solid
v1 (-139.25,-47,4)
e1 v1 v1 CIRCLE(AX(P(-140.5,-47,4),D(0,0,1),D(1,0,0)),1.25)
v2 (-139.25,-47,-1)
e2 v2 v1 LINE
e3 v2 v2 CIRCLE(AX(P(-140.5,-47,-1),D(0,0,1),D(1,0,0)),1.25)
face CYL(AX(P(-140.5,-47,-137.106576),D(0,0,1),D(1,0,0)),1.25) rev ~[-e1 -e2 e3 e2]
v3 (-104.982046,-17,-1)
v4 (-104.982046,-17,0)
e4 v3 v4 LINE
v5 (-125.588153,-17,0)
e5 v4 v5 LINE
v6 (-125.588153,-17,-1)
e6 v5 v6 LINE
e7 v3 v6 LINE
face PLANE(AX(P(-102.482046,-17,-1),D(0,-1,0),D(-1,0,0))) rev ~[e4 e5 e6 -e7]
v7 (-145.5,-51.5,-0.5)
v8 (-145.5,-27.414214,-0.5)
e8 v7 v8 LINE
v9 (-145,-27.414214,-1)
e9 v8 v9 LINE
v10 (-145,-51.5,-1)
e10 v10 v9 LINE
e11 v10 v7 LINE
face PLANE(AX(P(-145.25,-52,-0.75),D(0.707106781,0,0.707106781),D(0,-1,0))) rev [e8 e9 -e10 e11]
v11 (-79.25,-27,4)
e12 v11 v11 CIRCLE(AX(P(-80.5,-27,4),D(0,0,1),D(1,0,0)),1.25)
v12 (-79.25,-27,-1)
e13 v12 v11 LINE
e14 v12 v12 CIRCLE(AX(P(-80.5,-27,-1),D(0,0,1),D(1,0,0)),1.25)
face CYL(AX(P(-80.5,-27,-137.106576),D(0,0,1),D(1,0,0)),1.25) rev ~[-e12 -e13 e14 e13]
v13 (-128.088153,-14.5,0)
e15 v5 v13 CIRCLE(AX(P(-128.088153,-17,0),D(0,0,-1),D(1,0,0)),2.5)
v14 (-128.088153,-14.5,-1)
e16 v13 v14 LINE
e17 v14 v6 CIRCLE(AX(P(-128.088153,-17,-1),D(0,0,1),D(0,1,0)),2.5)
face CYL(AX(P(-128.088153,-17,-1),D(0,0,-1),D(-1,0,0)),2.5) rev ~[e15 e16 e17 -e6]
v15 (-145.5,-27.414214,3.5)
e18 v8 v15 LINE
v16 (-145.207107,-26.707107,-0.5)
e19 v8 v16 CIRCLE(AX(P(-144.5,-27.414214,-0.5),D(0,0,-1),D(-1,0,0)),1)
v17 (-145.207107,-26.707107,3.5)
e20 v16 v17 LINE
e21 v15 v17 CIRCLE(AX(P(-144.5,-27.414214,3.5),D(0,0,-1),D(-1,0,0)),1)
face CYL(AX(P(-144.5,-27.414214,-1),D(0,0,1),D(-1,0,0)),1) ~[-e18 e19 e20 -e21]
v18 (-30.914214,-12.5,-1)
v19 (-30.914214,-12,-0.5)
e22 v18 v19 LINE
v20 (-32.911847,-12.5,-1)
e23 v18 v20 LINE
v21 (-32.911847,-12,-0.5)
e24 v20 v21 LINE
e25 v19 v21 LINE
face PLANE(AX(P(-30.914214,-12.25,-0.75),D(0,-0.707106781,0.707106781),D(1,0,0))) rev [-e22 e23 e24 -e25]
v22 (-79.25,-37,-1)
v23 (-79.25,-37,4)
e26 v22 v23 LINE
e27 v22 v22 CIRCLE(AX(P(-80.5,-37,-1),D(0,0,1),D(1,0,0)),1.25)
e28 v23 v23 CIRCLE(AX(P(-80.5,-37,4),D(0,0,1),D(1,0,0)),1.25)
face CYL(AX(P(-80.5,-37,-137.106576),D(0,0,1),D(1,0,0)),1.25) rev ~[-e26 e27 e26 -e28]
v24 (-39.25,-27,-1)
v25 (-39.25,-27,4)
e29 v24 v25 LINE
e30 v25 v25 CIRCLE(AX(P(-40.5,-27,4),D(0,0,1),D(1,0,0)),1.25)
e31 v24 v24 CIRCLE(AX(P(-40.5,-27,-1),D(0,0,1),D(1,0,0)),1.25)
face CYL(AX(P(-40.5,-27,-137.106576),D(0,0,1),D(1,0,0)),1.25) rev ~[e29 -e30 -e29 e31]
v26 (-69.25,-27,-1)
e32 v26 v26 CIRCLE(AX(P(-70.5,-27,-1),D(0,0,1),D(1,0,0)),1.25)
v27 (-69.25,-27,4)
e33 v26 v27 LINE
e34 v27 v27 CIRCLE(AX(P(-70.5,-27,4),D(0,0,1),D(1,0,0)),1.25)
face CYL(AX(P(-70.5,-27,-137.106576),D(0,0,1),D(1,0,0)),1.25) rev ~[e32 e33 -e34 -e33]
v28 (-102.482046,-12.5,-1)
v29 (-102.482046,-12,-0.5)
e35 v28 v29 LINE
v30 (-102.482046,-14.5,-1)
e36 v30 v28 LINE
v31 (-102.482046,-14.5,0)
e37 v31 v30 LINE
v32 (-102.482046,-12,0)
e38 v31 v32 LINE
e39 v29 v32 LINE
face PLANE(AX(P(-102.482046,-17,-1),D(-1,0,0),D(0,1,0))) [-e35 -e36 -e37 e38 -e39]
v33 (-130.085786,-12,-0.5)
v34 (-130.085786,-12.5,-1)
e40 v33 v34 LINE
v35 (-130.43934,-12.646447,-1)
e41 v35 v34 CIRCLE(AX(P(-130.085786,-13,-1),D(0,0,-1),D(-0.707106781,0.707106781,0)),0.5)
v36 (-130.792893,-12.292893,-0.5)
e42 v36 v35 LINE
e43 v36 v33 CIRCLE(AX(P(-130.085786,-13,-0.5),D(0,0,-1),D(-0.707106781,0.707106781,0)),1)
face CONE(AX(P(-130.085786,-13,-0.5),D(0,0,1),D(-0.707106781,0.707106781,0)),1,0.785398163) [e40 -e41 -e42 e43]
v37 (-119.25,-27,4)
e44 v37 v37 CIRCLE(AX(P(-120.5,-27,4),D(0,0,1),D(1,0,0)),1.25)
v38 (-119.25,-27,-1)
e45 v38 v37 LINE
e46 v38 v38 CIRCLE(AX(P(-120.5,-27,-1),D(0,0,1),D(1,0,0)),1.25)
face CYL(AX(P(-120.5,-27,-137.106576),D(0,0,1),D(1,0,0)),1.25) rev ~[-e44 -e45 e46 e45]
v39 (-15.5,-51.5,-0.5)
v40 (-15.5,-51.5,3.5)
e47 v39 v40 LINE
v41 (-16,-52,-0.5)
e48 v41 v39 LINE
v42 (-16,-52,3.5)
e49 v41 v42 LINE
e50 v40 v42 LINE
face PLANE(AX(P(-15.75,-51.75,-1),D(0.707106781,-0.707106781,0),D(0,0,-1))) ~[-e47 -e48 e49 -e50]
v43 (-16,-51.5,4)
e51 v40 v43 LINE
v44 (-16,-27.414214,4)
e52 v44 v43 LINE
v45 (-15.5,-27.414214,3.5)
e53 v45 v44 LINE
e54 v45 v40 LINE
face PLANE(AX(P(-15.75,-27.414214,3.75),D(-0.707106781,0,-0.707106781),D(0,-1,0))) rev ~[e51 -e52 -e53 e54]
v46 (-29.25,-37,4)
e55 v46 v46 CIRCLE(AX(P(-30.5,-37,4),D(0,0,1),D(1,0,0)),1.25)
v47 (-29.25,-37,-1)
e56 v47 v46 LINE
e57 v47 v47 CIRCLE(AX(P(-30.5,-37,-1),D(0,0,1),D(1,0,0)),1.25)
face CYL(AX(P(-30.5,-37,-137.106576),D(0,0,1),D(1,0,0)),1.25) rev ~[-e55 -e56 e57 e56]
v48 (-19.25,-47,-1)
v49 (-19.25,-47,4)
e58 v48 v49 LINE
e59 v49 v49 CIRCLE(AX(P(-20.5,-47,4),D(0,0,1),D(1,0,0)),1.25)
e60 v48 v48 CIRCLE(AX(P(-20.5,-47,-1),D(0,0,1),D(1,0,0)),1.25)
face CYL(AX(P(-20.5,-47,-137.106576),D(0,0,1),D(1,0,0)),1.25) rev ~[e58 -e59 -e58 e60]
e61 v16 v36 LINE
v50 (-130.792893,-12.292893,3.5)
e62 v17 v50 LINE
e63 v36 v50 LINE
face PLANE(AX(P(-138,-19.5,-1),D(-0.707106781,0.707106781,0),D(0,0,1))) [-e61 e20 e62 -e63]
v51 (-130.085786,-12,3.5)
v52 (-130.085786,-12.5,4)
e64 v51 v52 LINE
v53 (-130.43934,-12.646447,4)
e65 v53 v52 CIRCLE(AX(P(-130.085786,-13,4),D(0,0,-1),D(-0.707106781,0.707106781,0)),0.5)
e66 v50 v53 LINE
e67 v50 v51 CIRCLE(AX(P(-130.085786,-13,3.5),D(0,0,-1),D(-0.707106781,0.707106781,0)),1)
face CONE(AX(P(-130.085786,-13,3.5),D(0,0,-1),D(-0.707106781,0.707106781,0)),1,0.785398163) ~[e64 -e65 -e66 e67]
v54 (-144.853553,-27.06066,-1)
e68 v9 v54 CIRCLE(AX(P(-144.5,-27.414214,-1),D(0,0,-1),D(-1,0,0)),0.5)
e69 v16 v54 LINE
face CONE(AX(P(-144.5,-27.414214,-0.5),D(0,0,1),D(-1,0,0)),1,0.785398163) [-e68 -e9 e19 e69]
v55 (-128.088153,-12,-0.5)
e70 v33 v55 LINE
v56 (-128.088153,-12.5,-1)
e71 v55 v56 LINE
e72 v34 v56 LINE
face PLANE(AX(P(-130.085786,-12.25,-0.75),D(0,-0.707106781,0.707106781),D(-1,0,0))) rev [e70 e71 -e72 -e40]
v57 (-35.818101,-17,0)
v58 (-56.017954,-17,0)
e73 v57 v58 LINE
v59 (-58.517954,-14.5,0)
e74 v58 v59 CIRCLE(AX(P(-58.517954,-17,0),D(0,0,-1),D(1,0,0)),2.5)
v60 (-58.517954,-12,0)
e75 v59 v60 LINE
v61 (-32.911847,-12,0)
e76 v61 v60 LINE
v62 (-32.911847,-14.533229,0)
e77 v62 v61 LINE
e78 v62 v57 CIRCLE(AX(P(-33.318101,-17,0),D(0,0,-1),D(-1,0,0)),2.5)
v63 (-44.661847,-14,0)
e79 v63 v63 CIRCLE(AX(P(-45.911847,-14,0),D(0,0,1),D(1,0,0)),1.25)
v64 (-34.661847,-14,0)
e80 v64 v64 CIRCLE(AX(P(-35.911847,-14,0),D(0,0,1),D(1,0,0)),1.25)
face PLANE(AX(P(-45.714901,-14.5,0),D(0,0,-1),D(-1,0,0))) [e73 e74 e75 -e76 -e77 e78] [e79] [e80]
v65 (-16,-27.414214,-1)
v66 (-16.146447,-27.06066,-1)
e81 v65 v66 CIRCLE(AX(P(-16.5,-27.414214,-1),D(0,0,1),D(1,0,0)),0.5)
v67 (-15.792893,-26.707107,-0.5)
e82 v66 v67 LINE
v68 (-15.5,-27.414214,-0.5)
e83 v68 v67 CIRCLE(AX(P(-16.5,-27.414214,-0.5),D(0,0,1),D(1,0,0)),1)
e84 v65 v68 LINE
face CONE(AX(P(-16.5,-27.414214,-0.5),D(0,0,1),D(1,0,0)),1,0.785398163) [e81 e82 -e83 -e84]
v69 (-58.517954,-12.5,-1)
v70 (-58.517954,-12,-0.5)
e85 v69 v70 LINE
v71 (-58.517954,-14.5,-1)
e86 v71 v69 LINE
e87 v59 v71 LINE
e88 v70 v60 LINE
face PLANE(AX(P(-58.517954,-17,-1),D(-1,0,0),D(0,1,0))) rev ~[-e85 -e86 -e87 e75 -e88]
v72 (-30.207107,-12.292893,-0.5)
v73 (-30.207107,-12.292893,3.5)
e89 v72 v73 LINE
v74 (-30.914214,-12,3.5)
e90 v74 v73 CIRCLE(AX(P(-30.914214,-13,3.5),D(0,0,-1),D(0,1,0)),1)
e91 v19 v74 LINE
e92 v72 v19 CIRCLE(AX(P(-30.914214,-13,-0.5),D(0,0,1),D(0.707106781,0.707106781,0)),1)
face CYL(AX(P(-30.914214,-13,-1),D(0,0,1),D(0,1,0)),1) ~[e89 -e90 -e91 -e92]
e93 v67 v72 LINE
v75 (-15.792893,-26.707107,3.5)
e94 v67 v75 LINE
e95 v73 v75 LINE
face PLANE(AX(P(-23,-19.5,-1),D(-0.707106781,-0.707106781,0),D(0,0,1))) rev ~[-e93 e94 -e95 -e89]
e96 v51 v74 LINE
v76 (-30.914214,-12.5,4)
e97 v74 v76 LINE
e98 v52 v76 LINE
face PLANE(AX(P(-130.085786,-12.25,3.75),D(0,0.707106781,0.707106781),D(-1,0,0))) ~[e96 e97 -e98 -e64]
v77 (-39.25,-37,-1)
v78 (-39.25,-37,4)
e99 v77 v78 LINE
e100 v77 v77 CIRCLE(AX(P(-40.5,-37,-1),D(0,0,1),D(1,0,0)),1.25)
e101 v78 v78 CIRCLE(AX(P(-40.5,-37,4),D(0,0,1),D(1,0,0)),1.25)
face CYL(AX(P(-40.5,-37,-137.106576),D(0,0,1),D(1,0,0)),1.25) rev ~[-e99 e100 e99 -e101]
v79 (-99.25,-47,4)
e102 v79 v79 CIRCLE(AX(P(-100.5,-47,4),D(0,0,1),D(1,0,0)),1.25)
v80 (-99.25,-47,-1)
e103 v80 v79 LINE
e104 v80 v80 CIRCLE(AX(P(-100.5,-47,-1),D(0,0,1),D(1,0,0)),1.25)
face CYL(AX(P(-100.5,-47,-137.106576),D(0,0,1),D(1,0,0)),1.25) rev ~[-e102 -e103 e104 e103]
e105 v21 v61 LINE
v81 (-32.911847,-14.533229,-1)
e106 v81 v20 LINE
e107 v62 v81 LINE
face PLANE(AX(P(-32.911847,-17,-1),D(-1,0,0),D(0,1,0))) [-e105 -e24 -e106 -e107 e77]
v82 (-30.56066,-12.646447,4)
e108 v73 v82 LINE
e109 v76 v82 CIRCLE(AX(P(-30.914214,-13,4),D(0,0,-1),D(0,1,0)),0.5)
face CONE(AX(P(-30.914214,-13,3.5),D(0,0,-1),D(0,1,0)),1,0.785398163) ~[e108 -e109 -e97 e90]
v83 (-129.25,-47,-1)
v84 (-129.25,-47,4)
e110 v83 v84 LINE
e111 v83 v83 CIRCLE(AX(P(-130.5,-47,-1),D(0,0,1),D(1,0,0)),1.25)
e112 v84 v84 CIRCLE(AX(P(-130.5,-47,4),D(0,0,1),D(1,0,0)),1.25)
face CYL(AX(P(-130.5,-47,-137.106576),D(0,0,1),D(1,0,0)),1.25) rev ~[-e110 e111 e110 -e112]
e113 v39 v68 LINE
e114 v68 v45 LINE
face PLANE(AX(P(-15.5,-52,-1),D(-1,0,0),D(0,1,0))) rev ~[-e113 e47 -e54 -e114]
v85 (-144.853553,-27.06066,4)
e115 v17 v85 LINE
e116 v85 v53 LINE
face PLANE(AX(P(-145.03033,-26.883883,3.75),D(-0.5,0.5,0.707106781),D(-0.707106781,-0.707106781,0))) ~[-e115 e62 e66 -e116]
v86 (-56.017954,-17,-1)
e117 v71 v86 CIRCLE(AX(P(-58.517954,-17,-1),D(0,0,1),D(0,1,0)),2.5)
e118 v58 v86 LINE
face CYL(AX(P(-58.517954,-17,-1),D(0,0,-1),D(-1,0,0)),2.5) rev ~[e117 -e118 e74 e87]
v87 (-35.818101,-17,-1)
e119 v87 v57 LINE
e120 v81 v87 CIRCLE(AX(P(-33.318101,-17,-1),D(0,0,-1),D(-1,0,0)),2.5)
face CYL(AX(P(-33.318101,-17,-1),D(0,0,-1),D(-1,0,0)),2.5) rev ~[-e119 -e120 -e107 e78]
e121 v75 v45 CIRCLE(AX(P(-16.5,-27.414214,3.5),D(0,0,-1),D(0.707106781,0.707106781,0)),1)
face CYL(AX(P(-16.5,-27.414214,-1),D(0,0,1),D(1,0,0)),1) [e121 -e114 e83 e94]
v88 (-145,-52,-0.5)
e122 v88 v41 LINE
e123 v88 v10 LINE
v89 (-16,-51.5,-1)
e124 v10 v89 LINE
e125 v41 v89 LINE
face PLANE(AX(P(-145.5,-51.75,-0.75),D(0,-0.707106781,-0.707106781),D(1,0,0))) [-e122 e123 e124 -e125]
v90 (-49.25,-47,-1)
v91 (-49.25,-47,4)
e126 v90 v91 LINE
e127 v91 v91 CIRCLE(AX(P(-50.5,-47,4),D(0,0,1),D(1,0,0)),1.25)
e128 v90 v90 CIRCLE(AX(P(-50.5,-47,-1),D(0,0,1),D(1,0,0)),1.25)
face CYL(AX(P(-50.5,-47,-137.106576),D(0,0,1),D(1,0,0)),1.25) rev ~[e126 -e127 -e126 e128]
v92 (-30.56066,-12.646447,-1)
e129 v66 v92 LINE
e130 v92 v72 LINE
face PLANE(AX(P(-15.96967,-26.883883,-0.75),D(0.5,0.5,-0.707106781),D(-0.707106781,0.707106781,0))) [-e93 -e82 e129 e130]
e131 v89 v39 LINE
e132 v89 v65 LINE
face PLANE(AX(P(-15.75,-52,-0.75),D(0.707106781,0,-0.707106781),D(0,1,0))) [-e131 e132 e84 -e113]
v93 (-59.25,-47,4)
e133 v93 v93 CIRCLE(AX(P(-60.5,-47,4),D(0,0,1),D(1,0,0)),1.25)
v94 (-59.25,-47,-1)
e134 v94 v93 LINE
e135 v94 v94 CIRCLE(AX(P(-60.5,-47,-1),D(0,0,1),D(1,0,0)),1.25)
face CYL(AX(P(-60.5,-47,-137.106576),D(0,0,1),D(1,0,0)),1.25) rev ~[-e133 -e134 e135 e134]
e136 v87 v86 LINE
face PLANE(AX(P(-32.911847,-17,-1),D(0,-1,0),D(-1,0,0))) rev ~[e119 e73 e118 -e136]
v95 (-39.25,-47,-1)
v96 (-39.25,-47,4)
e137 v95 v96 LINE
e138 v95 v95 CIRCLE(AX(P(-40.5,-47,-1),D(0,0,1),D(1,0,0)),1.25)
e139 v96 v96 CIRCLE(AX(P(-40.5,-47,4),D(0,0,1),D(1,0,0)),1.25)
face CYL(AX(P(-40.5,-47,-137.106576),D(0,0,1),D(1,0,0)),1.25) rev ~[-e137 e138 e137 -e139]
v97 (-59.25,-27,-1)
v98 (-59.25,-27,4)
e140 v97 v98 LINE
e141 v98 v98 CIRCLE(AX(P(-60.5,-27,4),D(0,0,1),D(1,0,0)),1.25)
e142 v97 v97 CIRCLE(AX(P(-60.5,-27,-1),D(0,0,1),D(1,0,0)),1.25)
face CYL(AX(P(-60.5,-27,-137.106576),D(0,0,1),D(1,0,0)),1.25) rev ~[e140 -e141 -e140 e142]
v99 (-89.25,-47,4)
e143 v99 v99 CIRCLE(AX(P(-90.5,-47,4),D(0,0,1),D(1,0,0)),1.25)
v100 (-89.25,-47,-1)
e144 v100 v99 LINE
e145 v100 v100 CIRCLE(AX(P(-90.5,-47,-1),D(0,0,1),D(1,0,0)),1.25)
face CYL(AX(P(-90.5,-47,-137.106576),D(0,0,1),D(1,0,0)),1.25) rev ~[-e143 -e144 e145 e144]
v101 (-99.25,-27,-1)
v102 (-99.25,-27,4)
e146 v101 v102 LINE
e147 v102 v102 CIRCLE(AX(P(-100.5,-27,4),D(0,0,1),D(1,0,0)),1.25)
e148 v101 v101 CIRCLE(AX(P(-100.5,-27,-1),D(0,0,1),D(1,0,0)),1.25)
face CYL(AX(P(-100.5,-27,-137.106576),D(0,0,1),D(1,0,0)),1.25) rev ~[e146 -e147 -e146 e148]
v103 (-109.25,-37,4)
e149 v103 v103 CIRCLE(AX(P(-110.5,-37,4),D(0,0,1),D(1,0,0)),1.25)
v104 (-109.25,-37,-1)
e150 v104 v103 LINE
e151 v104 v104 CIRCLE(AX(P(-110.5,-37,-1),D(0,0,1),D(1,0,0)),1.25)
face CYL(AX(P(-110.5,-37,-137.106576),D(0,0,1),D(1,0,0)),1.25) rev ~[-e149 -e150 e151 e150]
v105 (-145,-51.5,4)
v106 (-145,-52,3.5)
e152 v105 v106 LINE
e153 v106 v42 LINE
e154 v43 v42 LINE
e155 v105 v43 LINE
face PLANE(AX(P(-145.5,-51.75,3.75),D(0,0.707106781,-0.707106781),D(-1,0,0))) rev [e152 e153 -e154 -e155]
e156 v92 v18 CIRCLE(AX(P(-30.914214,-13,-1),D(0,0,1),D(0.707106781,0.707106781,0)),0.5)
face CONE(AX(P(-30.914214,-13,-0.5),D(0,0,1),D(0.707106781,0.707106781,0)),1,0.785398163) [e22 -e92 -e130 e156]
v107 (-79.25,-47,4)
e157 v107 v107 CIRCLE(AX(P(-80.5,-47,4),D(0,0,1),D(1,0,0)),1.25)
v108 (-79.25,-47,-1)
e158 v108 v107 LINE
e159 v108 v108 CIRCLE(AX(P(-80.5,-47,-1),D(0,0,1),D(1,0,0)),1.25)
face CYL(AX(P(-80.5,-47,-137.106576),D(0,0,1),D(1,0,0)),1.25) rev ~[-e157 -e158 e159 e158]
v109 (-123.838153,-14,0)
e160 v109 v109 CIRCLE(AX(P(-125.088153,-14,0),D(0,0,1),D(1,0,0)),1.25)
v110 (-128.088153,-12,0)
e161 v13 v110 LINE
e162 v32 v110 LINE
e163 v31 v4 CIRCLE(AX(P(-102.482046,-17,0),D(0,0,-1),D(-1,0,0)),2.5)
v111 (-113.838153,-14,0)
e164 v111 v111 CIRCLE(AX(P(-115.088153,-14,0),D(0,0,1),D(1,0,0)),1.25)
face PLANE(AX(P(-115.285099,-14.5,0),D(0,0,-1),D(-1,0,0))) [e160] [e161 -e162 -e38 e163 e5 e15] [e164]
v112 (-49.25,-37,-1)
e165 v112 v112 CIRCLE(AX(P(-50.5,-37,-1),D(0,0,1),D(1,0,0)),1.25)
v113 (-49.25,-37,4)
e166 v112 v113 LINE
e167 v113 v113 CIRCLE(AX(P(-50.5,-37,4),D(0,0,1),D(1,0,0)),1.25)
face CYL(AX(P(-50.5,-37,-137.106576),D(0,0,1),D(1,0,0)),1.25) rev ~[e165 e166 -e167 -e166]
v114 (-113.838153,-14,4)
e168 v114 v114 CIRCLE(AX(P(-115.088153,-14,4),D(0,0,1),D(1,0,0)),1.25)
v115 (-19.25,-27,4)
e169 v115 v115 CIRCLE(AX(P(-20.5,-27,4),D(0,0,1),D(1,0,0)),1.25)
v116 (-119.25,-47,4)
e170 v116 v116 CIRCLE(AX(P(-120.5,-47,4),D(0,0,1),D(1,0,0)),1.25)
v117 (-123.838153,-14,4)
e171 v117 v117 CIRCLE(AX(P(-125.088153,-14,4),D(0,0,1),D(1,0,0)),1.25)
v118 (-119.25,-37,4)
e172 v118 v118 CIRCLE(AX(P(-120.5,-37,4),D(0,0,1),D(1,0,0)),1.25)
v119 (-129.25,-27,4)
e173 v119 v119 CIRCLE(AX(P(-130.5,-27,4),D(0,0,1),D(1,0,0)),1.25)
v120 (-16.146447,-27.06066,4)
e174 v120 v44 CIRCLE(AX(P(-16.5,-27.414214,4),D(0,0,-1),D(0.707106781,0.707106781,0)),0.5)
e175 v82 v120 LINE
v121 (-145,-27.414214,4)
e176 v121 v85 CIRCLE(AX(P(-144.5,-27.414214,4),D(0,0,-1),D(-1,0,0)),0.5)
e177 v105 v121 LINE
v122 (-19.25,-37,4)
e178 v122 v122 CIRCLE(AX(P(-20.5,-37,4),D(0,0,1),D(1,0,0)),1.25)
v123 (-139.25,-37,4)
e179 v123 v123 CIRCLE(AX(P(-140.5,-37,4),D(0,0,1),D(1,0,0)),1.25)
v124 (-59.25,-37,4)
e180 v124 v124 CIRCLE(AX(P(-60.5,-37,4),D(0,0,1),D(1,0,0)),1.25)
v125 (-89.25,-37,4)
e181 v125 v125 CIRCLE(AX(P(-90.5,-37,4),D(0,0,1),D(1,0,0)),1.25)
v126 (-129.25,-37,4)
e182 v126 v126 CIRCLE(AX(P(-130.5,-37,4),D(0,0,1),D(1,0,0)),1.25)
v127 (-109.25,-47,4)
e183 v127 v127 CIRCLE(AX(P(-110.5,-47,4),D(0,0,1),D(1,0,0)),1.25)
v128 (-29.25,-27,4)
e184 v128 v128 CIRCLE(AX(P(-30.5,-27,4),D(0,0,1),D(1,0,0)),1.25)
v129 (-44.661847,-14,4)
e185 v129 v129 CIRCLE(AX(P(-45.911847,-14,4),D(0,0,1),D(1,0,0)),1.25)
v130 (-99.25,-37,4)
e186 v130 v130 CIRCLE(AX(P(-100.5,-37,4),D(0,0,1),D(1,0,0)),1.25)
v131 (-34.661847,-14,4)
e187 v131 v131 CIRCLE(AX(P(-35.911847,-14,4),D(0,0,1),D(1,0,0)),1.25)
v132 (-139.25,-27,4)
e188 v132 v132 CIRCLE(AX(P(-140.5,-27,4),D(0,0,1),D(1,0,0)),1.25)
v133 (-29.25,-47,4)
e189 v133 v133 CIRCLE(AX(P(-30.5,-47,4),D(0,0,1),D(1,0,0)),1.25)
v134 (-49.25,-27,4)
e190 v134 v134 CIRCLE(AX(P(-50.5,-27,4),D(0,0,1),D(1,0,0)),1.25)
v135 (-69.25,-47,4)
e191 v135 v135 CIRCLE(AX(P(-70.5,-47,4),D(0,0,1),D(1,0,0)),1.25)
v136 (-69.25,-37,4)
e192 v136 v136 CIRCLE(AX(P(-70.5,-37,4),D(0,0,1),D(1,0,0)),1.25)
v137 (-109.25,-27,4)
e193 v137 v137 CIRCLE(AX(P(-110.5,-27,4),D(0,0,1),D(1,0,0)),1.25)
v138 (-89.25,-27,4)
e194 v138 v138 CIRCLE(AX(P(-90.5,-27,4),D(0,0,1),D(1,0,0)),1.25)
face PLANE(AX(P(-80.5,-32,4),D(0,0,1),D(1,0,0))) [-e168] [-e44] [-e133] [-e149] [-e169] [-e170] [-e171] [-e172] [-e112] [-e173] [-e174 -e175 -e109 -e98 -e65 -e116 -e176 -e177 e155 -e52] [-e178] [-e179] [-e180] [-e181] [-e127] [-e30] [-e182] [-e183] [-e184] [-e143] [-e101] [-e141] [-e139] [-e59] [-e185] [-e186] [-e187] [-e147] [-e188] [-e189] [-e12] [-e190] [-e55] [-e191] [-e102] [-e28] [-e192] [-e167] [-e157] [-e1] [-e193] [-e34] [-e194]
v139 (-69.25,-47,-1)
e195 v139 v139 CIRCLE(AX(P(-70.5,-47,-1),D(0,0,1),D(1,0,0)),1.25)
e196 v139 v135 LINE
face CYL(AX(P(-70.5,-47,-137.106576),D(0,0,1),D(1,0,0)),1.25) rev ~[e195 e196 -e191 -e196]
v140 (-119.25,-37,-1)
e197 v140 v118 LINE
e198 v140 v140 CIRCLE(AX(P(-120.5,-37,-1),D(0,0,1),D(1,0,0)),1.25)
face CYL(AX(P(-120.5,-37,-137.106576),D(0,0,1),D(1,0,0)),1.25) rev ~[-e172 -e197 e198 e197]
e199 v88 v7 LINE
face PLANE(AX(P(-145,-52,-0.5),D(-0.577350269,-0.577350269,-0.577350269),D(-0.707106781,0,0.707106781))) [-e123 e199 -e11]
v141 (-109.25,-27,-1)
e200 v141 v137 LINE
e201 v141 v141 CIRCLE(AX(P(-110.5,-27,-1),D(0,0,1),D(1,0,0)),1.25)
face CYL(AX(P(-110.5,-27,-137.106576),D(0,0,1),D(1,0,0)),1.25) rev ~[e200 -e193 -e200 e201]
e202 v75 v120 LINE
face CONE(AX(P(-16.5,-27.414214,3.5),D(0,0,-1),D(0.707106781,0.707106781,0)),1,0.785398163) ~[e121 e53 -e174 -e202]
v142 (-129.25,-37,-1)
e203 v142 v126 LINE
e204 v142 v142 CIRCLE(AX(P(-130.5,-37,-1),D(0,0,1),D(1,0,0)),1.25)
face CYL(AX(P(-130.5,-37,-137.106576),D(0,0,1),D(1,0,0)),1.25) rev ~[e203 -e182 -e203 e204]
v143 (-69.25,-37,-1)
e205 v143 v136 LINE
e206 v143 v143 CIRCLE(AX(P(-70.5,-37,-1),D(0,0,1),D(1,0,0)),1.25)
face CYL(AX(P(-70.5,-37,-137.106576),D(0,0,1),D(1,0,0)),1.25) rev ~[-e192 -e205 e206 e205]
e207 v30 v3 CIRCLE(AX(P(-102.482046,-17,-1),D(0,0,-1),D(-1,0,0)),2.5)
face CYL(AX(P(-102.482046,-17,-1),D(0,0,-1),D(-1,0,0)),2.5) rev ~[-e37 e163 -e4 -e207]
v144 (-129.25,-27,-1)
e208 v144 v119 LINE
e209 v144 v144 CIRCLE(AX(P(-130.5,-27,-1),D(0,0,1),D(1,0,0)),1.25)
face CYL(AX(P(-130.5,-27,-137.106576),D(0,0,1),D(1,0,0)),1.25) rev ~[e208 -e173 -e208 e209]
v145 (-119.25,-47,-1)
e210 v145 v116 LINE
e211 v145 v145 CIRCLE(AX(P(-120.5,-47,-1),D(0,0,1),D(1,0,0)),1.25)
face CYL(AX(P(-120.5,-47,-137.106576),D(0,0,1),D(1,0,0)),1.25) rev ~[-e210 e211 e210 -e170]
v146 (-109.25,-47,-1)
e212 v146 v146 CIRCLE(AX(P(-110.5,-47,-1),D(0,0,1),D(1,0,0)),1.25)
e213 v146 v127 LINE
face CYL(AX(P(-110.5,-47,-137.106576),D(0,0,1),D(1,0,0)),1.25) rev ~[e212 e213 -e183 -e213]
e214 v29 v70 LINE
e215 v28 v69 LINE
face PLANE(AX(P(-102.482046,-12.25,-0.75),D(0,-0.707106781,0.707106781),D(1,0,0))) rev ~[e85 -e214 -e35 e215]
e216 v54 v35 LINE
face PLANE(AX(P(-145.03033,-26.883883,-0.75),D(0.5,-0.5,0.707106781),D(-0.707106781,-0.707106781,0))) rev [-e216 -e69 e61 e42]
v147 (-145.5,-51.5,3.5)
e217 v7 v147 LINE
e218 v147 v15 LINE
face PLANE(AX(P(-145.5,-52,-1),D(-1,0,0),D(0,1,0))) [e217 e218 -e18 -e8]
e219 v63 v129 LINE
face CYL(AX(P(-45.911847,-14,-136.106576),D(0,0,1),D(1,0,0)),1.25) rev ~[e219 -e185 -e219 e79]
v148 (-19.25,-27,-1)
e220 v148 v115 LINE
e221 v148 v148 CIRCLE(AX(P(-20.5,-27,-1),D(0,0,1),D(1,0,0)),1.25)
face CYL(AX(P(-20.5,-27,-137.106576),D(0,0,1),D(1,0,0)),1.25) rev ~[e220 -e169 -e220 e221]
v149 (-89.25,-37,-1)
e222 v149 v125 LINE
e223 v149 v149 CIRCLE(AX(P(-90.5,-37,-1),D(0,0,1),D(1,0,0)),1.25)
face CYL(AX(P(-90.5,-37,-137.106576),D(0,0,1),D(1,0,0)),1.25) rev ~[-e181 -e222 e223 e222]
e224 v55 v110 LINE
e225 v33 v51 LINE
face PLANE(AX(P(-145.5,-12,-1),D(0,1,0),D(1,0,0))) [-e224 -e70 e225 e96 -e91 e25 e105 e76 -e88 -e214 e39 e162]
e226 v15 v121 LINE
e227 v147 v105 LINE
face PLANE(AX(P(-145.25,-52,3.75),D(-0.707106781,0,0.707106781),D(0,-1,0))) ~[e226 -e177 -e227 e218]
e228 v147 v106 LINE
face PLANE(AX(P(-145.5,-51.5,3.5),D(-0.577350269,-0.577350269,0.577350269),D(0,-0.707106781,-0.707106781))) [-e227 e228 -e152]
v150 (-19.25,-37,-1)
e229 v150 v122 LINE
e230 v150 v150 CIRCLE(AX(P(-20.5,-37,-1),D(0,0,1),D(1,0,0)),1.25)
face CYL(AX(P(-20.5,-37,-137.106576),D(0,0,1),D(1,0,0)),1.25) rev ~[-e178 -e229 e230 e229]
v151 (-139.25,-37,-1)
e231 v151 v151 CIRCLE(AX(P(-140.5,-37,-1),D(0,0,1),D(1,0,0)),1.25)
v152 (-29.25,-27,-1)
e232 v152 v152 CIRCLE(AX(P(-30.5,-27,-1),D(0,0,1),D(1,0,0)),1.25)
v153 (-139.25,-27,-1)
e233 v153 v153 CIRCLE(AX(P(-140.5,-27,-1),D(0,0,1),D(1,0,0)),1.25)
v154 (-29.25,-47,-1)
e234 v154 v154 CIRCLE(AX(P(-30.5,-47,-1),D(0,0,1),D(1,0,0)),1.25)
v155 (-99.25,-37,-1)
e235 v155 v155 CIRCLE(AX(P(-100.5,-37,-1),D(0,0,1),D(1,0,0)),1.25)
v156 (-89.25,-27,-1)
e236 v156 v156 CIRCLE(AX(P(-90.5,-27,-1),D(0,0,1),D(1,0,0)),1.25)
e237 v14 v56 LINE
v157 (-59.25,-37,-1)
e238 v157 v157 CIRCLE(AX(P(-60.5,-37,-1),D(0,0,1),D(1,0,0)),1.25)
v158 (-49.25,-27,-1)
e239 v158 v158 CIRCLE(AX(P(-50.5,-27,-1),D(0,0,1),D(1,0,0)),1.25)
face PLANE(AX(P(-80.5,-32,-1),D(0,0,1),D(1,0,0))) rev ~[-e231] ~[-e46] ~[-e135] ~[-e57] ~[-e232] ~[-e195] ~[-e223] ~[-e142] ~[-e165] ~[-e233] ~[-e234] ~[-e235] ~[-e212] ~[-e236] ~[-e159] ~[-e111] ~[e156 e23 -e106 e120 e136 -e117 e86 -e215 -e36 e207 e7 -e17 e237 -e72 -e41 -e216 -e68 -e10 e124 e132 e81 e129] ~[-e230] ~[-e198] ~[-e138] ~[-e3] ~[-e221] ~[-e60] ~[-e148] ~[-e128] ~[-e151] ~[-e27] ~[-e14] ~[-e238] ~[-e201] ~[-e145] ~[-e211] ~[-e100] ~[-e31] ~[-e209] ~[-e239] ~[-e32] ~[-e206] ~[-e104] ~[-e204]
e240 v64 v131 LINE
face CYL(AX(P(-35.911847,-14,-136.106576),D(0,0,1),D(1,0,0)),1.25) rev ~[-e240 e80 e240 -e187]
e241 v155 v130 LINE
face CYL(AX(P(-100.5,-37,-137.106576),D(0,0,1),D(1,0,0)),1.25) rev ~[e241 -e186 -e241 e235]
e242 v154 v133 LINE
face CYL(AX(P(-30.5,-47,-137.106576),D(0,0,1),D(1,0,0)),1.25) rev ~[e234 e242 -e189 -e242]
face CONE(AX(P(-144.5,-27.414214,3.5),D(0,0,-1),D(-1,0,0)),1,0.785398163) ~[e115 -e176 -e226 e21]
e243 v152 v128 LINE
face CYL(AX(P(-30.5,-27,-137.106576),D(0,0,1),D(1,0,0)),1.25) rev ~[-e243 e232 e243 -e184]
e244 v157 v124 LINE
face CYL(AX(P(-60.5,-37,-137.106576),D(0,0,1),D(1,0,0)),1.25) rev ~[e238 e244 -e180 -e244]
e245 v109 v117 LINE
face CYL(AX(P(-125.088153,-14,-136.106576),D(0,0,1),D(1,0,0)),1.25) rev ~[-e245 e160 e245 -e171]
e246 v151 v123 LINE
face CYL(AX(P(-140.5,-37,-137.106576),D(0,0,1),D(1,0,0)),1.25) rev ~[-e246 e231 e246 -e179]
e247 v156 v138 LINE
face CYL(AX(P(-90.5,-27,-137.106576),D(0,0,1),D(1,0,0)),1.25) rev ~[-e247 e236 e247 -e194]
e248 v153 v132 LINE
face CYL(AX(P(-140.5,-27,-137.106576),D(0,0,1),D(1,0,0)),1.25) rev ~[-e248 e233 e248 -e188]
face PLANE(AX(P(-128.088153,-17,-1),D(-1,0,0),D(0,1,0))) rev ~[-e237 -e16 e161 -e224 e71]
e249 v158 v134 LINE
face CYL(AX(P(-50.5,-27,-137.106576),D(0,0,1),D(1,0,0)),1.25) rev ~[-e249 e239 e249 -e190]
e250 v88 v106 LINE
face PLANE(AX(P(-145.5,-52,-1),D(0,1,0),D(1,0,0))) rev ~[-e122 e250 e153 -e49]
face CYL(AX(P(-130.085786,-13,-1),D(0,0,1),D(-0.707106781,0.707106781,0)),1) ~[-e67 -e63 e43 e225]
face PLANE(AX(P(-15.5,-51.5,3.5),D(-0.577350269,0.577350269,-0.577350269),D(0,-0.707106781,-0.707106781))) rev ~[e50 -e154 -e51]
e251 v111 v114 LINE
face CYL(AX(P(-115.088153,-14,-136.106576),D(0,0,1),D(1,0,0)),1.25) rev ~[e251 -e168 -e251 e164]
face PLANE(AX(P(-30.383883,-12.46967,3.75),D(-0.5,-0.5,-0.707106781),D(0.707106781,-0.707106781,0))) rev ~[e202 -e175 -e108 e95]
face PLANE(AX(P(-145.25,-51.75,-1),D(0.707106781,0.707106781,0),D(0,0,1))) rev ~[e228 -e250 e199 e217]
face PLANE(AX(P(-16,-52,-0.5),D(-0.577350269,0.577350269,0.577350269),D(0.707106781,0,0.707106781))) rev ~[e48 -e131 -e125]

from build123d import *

# Parameters (mm, degrees)
EXTRUDE_1_DEPTH             = 4
EXTRUDE_1_DEPTH_BACK        = 1
SKETCH_2_W                  = 130
SKETCH_2_H                  = 40
SKETCH_6_W                  = 25.606106999
SKETCH_6_H                  = 5
CUT_EXTRUDE_6_DEPTH         = 1
SKETCH_7_R                  = 2.5
CUT_EXTRUDE_7_DEPTH         = 1
CHAMFER_1_SIZE              = 15
M3X0_5_1_D                  = 2.5
FILLET_1_R                  = 1
M3X0_5_2_D                  = 2.5
PATTERN_LINEAR_1_COUNT      = 7
PATTERN_LINEAR_1_PITCH      = 10
PATTERN_LINEAR_1_COUNT_DIR2 = 3
PATTERN_LINEAR_1_PITCH_DIR2 = 10
PATTERN_LINEAR_2_COUNT      = 7
PATTERN_LINEAR_2_PITCH      = 10
PATTERN_LINEAR_2_COUNT_DIR2 = 3
PATTERN_LINEAR_2_PITCH_DIR2 = 10
CHAMFER_2_SIZE              = 0.5


with BuildPart() as part:
    # Sketch 2 → Extrude 1 (new, two sides: drawn at the far end of the back side and taken through both)
    with BuildSketch(Plane.XY.offset(-EXTRUDE_1_DEPTH_BACK)):
        with Locations((-80.49999999, -32)):
            Rectangle(SKETCH_2_W, SKETCH_2_H)
    extrude(amount=EXTRUDE_1_DEPTH + EXTRUDE_1_DEPTH_BACK)

    # Sketch 6 → Cut-Extrude 6 (cut)
    with BuildSketch(Plane(origin=(0, 0, -1), x_dir=(-1, 0, 0), z_dir=(0, 0, -1))):
        with Locations((115.285099269, -14.5)):
            Rectangle(SKETCH_6_W, SKETCH_6_H)
        with Locations((45.714900713, -14.5)):
            Rectangle(SKETCH_6_W, SKETCH_6_H)
    extrude(amount=-CUT_EXTRUDE_6_DEPTH, mode=Mode.SUBTRACT)

    # Sketch 7 → Cut-Extrude 7 (cut)
    with BuildSketch(Plane(origin=(0, 0, -1), x_dir=(-1, 0, 0), z_dir=(0, 0, -1))):
        with Locations((33.318100992, -17)):
            Circle(SKETCH_7_R)
        with Locations((128.088152768, -17)):
            Circle(SKETCH_7_R)
        with Locations((102.482045769, -17)):
            Circle(SKETCH_7_R)
        with Locations((58.517954212, -17)):
            Circle(SKETCH_7_R)
    extrude(amount=-CUT_EXTRUDE_7_DEPTH, mode=Mode.SUBTRACT)

    # Chamfer 1
    chamfer_1_edges = [part.edges().sort_by_distance(p)[0] for p in [
        (-145.49999999, -12, 1.5),
        (-15.49999999, -12, 1.5),
    ]]
    chamfer(chamfer_1_edges, length=CHAMFER_1_SIZE)

    # M3x0.5 _1 (through all)
    with Locations(Plane(origin=(0, 0, 0), x_dir=(-1, 0, 0), z_dir=(0, 0, -1))):
        with Locations((35.911847213, -14), (125.088152768, -14), (45.911847213, -14), (115.088152768, -14)):
            Hole(M3X0_5_1_D / 2)

    # Fillet 1
    fillet_1_edges = [part.edges().sort_by_distance(p)[0] for p in [
        (-30.49999999, -12, 1.5),
        (-130.49999999, -12, 1.5),
        (-145.49999999, -27, 1.5),
        (-15.49999999, -27, 1.5),
    ]]
    fillet(fillet_1_edges, radius=FILLET_1_R)

    # M3x0.5 _2 (through all)
    with Locations(Plane(origin=(0, 0, -1), x_dir=(-1, 0, 0), z_dir=(0, 0, -1))):
        with Locations((80.49999999, -47)):
            m3x0_5_2 = Hole(M3X0_5_2_D / 2)

    # Pattern Linear 1: M3x0.5 _2 7 × 3
    with Locations(*[(i * PATTERN_LINEAR_1_PITCH, j * PATTERN_LINEAR_1_PITCH_DIR2, 0) for i in range(PATTERN_LINEAR_1_COUNT) for j in range(PATTERN_LINEAR_1_COUNT_DIR2) if (i, j) != (0, 0)]):
        add(m3x0_5_2, mode=Mode.SUBTRACT)

    # Pattern Linear 2: M3x0.5 _2 7 × 3
    with Locations(*[(-i * PATTERN_LINEAR_2_PITCH, j * PATTERN_LINEAR_2_PITCH_DIR2, 0) for i in range(PATTERN_LINEAR_2_COUNT) for j in range(PATTERN_LINEAR_2_COUNT_DIR2) if (i, j) != (0, 0)]):
        add(m3x0_5_2, mode=Mode.SUBTRACT)

    # Chamfer 2
    chamfer_2_edges = [part.edges().sort_by_distance(p)[0] for p in [
        (-15.49999999, -39.707106781, -1),
        (-80.49999999, -52, 4),
        (-145.49999999, -39.707106781, 4),
        (-145.49999999, -39.707106781, -1),
        (-15.49999999, -39.707106781, 4),
        (-137.99999999, -19.5, -1),
        (-31.913030383, -12, -1),
        (-22.99999999, -19.5, -1),
        (-15.576120458, -27.03153013, -1),
        (-30.53153012, -12.076120467, -1),
        (-130.46846986, -12.076120467, -1),
        (-145.423879523, -27.03153013, -1),
        (-137.99999999, -19.5, 4),
        (-80.49999999, -12, 4),
        (-22.99999999, -19.5, 4),
        (-15.576120458, -27.03153013, 4),
        (-30.53153012, -12.076120467, 4),
        (-130.46846986, -12.076120467, 4),
        (-145.423879523, -27.03153013, 4),
        (-80.49999999, -12, -1),
        (-129.086969598, -12, -1),
        (-80.49999999, -52, -1),
        (-15.49999999, -52, 1.5),
        (-145.49999999, -52, 1.5),
    ]]
    chamfer(chamfer_2_edges, length=CHAMFER_2_SIZE)


solid = part.part
